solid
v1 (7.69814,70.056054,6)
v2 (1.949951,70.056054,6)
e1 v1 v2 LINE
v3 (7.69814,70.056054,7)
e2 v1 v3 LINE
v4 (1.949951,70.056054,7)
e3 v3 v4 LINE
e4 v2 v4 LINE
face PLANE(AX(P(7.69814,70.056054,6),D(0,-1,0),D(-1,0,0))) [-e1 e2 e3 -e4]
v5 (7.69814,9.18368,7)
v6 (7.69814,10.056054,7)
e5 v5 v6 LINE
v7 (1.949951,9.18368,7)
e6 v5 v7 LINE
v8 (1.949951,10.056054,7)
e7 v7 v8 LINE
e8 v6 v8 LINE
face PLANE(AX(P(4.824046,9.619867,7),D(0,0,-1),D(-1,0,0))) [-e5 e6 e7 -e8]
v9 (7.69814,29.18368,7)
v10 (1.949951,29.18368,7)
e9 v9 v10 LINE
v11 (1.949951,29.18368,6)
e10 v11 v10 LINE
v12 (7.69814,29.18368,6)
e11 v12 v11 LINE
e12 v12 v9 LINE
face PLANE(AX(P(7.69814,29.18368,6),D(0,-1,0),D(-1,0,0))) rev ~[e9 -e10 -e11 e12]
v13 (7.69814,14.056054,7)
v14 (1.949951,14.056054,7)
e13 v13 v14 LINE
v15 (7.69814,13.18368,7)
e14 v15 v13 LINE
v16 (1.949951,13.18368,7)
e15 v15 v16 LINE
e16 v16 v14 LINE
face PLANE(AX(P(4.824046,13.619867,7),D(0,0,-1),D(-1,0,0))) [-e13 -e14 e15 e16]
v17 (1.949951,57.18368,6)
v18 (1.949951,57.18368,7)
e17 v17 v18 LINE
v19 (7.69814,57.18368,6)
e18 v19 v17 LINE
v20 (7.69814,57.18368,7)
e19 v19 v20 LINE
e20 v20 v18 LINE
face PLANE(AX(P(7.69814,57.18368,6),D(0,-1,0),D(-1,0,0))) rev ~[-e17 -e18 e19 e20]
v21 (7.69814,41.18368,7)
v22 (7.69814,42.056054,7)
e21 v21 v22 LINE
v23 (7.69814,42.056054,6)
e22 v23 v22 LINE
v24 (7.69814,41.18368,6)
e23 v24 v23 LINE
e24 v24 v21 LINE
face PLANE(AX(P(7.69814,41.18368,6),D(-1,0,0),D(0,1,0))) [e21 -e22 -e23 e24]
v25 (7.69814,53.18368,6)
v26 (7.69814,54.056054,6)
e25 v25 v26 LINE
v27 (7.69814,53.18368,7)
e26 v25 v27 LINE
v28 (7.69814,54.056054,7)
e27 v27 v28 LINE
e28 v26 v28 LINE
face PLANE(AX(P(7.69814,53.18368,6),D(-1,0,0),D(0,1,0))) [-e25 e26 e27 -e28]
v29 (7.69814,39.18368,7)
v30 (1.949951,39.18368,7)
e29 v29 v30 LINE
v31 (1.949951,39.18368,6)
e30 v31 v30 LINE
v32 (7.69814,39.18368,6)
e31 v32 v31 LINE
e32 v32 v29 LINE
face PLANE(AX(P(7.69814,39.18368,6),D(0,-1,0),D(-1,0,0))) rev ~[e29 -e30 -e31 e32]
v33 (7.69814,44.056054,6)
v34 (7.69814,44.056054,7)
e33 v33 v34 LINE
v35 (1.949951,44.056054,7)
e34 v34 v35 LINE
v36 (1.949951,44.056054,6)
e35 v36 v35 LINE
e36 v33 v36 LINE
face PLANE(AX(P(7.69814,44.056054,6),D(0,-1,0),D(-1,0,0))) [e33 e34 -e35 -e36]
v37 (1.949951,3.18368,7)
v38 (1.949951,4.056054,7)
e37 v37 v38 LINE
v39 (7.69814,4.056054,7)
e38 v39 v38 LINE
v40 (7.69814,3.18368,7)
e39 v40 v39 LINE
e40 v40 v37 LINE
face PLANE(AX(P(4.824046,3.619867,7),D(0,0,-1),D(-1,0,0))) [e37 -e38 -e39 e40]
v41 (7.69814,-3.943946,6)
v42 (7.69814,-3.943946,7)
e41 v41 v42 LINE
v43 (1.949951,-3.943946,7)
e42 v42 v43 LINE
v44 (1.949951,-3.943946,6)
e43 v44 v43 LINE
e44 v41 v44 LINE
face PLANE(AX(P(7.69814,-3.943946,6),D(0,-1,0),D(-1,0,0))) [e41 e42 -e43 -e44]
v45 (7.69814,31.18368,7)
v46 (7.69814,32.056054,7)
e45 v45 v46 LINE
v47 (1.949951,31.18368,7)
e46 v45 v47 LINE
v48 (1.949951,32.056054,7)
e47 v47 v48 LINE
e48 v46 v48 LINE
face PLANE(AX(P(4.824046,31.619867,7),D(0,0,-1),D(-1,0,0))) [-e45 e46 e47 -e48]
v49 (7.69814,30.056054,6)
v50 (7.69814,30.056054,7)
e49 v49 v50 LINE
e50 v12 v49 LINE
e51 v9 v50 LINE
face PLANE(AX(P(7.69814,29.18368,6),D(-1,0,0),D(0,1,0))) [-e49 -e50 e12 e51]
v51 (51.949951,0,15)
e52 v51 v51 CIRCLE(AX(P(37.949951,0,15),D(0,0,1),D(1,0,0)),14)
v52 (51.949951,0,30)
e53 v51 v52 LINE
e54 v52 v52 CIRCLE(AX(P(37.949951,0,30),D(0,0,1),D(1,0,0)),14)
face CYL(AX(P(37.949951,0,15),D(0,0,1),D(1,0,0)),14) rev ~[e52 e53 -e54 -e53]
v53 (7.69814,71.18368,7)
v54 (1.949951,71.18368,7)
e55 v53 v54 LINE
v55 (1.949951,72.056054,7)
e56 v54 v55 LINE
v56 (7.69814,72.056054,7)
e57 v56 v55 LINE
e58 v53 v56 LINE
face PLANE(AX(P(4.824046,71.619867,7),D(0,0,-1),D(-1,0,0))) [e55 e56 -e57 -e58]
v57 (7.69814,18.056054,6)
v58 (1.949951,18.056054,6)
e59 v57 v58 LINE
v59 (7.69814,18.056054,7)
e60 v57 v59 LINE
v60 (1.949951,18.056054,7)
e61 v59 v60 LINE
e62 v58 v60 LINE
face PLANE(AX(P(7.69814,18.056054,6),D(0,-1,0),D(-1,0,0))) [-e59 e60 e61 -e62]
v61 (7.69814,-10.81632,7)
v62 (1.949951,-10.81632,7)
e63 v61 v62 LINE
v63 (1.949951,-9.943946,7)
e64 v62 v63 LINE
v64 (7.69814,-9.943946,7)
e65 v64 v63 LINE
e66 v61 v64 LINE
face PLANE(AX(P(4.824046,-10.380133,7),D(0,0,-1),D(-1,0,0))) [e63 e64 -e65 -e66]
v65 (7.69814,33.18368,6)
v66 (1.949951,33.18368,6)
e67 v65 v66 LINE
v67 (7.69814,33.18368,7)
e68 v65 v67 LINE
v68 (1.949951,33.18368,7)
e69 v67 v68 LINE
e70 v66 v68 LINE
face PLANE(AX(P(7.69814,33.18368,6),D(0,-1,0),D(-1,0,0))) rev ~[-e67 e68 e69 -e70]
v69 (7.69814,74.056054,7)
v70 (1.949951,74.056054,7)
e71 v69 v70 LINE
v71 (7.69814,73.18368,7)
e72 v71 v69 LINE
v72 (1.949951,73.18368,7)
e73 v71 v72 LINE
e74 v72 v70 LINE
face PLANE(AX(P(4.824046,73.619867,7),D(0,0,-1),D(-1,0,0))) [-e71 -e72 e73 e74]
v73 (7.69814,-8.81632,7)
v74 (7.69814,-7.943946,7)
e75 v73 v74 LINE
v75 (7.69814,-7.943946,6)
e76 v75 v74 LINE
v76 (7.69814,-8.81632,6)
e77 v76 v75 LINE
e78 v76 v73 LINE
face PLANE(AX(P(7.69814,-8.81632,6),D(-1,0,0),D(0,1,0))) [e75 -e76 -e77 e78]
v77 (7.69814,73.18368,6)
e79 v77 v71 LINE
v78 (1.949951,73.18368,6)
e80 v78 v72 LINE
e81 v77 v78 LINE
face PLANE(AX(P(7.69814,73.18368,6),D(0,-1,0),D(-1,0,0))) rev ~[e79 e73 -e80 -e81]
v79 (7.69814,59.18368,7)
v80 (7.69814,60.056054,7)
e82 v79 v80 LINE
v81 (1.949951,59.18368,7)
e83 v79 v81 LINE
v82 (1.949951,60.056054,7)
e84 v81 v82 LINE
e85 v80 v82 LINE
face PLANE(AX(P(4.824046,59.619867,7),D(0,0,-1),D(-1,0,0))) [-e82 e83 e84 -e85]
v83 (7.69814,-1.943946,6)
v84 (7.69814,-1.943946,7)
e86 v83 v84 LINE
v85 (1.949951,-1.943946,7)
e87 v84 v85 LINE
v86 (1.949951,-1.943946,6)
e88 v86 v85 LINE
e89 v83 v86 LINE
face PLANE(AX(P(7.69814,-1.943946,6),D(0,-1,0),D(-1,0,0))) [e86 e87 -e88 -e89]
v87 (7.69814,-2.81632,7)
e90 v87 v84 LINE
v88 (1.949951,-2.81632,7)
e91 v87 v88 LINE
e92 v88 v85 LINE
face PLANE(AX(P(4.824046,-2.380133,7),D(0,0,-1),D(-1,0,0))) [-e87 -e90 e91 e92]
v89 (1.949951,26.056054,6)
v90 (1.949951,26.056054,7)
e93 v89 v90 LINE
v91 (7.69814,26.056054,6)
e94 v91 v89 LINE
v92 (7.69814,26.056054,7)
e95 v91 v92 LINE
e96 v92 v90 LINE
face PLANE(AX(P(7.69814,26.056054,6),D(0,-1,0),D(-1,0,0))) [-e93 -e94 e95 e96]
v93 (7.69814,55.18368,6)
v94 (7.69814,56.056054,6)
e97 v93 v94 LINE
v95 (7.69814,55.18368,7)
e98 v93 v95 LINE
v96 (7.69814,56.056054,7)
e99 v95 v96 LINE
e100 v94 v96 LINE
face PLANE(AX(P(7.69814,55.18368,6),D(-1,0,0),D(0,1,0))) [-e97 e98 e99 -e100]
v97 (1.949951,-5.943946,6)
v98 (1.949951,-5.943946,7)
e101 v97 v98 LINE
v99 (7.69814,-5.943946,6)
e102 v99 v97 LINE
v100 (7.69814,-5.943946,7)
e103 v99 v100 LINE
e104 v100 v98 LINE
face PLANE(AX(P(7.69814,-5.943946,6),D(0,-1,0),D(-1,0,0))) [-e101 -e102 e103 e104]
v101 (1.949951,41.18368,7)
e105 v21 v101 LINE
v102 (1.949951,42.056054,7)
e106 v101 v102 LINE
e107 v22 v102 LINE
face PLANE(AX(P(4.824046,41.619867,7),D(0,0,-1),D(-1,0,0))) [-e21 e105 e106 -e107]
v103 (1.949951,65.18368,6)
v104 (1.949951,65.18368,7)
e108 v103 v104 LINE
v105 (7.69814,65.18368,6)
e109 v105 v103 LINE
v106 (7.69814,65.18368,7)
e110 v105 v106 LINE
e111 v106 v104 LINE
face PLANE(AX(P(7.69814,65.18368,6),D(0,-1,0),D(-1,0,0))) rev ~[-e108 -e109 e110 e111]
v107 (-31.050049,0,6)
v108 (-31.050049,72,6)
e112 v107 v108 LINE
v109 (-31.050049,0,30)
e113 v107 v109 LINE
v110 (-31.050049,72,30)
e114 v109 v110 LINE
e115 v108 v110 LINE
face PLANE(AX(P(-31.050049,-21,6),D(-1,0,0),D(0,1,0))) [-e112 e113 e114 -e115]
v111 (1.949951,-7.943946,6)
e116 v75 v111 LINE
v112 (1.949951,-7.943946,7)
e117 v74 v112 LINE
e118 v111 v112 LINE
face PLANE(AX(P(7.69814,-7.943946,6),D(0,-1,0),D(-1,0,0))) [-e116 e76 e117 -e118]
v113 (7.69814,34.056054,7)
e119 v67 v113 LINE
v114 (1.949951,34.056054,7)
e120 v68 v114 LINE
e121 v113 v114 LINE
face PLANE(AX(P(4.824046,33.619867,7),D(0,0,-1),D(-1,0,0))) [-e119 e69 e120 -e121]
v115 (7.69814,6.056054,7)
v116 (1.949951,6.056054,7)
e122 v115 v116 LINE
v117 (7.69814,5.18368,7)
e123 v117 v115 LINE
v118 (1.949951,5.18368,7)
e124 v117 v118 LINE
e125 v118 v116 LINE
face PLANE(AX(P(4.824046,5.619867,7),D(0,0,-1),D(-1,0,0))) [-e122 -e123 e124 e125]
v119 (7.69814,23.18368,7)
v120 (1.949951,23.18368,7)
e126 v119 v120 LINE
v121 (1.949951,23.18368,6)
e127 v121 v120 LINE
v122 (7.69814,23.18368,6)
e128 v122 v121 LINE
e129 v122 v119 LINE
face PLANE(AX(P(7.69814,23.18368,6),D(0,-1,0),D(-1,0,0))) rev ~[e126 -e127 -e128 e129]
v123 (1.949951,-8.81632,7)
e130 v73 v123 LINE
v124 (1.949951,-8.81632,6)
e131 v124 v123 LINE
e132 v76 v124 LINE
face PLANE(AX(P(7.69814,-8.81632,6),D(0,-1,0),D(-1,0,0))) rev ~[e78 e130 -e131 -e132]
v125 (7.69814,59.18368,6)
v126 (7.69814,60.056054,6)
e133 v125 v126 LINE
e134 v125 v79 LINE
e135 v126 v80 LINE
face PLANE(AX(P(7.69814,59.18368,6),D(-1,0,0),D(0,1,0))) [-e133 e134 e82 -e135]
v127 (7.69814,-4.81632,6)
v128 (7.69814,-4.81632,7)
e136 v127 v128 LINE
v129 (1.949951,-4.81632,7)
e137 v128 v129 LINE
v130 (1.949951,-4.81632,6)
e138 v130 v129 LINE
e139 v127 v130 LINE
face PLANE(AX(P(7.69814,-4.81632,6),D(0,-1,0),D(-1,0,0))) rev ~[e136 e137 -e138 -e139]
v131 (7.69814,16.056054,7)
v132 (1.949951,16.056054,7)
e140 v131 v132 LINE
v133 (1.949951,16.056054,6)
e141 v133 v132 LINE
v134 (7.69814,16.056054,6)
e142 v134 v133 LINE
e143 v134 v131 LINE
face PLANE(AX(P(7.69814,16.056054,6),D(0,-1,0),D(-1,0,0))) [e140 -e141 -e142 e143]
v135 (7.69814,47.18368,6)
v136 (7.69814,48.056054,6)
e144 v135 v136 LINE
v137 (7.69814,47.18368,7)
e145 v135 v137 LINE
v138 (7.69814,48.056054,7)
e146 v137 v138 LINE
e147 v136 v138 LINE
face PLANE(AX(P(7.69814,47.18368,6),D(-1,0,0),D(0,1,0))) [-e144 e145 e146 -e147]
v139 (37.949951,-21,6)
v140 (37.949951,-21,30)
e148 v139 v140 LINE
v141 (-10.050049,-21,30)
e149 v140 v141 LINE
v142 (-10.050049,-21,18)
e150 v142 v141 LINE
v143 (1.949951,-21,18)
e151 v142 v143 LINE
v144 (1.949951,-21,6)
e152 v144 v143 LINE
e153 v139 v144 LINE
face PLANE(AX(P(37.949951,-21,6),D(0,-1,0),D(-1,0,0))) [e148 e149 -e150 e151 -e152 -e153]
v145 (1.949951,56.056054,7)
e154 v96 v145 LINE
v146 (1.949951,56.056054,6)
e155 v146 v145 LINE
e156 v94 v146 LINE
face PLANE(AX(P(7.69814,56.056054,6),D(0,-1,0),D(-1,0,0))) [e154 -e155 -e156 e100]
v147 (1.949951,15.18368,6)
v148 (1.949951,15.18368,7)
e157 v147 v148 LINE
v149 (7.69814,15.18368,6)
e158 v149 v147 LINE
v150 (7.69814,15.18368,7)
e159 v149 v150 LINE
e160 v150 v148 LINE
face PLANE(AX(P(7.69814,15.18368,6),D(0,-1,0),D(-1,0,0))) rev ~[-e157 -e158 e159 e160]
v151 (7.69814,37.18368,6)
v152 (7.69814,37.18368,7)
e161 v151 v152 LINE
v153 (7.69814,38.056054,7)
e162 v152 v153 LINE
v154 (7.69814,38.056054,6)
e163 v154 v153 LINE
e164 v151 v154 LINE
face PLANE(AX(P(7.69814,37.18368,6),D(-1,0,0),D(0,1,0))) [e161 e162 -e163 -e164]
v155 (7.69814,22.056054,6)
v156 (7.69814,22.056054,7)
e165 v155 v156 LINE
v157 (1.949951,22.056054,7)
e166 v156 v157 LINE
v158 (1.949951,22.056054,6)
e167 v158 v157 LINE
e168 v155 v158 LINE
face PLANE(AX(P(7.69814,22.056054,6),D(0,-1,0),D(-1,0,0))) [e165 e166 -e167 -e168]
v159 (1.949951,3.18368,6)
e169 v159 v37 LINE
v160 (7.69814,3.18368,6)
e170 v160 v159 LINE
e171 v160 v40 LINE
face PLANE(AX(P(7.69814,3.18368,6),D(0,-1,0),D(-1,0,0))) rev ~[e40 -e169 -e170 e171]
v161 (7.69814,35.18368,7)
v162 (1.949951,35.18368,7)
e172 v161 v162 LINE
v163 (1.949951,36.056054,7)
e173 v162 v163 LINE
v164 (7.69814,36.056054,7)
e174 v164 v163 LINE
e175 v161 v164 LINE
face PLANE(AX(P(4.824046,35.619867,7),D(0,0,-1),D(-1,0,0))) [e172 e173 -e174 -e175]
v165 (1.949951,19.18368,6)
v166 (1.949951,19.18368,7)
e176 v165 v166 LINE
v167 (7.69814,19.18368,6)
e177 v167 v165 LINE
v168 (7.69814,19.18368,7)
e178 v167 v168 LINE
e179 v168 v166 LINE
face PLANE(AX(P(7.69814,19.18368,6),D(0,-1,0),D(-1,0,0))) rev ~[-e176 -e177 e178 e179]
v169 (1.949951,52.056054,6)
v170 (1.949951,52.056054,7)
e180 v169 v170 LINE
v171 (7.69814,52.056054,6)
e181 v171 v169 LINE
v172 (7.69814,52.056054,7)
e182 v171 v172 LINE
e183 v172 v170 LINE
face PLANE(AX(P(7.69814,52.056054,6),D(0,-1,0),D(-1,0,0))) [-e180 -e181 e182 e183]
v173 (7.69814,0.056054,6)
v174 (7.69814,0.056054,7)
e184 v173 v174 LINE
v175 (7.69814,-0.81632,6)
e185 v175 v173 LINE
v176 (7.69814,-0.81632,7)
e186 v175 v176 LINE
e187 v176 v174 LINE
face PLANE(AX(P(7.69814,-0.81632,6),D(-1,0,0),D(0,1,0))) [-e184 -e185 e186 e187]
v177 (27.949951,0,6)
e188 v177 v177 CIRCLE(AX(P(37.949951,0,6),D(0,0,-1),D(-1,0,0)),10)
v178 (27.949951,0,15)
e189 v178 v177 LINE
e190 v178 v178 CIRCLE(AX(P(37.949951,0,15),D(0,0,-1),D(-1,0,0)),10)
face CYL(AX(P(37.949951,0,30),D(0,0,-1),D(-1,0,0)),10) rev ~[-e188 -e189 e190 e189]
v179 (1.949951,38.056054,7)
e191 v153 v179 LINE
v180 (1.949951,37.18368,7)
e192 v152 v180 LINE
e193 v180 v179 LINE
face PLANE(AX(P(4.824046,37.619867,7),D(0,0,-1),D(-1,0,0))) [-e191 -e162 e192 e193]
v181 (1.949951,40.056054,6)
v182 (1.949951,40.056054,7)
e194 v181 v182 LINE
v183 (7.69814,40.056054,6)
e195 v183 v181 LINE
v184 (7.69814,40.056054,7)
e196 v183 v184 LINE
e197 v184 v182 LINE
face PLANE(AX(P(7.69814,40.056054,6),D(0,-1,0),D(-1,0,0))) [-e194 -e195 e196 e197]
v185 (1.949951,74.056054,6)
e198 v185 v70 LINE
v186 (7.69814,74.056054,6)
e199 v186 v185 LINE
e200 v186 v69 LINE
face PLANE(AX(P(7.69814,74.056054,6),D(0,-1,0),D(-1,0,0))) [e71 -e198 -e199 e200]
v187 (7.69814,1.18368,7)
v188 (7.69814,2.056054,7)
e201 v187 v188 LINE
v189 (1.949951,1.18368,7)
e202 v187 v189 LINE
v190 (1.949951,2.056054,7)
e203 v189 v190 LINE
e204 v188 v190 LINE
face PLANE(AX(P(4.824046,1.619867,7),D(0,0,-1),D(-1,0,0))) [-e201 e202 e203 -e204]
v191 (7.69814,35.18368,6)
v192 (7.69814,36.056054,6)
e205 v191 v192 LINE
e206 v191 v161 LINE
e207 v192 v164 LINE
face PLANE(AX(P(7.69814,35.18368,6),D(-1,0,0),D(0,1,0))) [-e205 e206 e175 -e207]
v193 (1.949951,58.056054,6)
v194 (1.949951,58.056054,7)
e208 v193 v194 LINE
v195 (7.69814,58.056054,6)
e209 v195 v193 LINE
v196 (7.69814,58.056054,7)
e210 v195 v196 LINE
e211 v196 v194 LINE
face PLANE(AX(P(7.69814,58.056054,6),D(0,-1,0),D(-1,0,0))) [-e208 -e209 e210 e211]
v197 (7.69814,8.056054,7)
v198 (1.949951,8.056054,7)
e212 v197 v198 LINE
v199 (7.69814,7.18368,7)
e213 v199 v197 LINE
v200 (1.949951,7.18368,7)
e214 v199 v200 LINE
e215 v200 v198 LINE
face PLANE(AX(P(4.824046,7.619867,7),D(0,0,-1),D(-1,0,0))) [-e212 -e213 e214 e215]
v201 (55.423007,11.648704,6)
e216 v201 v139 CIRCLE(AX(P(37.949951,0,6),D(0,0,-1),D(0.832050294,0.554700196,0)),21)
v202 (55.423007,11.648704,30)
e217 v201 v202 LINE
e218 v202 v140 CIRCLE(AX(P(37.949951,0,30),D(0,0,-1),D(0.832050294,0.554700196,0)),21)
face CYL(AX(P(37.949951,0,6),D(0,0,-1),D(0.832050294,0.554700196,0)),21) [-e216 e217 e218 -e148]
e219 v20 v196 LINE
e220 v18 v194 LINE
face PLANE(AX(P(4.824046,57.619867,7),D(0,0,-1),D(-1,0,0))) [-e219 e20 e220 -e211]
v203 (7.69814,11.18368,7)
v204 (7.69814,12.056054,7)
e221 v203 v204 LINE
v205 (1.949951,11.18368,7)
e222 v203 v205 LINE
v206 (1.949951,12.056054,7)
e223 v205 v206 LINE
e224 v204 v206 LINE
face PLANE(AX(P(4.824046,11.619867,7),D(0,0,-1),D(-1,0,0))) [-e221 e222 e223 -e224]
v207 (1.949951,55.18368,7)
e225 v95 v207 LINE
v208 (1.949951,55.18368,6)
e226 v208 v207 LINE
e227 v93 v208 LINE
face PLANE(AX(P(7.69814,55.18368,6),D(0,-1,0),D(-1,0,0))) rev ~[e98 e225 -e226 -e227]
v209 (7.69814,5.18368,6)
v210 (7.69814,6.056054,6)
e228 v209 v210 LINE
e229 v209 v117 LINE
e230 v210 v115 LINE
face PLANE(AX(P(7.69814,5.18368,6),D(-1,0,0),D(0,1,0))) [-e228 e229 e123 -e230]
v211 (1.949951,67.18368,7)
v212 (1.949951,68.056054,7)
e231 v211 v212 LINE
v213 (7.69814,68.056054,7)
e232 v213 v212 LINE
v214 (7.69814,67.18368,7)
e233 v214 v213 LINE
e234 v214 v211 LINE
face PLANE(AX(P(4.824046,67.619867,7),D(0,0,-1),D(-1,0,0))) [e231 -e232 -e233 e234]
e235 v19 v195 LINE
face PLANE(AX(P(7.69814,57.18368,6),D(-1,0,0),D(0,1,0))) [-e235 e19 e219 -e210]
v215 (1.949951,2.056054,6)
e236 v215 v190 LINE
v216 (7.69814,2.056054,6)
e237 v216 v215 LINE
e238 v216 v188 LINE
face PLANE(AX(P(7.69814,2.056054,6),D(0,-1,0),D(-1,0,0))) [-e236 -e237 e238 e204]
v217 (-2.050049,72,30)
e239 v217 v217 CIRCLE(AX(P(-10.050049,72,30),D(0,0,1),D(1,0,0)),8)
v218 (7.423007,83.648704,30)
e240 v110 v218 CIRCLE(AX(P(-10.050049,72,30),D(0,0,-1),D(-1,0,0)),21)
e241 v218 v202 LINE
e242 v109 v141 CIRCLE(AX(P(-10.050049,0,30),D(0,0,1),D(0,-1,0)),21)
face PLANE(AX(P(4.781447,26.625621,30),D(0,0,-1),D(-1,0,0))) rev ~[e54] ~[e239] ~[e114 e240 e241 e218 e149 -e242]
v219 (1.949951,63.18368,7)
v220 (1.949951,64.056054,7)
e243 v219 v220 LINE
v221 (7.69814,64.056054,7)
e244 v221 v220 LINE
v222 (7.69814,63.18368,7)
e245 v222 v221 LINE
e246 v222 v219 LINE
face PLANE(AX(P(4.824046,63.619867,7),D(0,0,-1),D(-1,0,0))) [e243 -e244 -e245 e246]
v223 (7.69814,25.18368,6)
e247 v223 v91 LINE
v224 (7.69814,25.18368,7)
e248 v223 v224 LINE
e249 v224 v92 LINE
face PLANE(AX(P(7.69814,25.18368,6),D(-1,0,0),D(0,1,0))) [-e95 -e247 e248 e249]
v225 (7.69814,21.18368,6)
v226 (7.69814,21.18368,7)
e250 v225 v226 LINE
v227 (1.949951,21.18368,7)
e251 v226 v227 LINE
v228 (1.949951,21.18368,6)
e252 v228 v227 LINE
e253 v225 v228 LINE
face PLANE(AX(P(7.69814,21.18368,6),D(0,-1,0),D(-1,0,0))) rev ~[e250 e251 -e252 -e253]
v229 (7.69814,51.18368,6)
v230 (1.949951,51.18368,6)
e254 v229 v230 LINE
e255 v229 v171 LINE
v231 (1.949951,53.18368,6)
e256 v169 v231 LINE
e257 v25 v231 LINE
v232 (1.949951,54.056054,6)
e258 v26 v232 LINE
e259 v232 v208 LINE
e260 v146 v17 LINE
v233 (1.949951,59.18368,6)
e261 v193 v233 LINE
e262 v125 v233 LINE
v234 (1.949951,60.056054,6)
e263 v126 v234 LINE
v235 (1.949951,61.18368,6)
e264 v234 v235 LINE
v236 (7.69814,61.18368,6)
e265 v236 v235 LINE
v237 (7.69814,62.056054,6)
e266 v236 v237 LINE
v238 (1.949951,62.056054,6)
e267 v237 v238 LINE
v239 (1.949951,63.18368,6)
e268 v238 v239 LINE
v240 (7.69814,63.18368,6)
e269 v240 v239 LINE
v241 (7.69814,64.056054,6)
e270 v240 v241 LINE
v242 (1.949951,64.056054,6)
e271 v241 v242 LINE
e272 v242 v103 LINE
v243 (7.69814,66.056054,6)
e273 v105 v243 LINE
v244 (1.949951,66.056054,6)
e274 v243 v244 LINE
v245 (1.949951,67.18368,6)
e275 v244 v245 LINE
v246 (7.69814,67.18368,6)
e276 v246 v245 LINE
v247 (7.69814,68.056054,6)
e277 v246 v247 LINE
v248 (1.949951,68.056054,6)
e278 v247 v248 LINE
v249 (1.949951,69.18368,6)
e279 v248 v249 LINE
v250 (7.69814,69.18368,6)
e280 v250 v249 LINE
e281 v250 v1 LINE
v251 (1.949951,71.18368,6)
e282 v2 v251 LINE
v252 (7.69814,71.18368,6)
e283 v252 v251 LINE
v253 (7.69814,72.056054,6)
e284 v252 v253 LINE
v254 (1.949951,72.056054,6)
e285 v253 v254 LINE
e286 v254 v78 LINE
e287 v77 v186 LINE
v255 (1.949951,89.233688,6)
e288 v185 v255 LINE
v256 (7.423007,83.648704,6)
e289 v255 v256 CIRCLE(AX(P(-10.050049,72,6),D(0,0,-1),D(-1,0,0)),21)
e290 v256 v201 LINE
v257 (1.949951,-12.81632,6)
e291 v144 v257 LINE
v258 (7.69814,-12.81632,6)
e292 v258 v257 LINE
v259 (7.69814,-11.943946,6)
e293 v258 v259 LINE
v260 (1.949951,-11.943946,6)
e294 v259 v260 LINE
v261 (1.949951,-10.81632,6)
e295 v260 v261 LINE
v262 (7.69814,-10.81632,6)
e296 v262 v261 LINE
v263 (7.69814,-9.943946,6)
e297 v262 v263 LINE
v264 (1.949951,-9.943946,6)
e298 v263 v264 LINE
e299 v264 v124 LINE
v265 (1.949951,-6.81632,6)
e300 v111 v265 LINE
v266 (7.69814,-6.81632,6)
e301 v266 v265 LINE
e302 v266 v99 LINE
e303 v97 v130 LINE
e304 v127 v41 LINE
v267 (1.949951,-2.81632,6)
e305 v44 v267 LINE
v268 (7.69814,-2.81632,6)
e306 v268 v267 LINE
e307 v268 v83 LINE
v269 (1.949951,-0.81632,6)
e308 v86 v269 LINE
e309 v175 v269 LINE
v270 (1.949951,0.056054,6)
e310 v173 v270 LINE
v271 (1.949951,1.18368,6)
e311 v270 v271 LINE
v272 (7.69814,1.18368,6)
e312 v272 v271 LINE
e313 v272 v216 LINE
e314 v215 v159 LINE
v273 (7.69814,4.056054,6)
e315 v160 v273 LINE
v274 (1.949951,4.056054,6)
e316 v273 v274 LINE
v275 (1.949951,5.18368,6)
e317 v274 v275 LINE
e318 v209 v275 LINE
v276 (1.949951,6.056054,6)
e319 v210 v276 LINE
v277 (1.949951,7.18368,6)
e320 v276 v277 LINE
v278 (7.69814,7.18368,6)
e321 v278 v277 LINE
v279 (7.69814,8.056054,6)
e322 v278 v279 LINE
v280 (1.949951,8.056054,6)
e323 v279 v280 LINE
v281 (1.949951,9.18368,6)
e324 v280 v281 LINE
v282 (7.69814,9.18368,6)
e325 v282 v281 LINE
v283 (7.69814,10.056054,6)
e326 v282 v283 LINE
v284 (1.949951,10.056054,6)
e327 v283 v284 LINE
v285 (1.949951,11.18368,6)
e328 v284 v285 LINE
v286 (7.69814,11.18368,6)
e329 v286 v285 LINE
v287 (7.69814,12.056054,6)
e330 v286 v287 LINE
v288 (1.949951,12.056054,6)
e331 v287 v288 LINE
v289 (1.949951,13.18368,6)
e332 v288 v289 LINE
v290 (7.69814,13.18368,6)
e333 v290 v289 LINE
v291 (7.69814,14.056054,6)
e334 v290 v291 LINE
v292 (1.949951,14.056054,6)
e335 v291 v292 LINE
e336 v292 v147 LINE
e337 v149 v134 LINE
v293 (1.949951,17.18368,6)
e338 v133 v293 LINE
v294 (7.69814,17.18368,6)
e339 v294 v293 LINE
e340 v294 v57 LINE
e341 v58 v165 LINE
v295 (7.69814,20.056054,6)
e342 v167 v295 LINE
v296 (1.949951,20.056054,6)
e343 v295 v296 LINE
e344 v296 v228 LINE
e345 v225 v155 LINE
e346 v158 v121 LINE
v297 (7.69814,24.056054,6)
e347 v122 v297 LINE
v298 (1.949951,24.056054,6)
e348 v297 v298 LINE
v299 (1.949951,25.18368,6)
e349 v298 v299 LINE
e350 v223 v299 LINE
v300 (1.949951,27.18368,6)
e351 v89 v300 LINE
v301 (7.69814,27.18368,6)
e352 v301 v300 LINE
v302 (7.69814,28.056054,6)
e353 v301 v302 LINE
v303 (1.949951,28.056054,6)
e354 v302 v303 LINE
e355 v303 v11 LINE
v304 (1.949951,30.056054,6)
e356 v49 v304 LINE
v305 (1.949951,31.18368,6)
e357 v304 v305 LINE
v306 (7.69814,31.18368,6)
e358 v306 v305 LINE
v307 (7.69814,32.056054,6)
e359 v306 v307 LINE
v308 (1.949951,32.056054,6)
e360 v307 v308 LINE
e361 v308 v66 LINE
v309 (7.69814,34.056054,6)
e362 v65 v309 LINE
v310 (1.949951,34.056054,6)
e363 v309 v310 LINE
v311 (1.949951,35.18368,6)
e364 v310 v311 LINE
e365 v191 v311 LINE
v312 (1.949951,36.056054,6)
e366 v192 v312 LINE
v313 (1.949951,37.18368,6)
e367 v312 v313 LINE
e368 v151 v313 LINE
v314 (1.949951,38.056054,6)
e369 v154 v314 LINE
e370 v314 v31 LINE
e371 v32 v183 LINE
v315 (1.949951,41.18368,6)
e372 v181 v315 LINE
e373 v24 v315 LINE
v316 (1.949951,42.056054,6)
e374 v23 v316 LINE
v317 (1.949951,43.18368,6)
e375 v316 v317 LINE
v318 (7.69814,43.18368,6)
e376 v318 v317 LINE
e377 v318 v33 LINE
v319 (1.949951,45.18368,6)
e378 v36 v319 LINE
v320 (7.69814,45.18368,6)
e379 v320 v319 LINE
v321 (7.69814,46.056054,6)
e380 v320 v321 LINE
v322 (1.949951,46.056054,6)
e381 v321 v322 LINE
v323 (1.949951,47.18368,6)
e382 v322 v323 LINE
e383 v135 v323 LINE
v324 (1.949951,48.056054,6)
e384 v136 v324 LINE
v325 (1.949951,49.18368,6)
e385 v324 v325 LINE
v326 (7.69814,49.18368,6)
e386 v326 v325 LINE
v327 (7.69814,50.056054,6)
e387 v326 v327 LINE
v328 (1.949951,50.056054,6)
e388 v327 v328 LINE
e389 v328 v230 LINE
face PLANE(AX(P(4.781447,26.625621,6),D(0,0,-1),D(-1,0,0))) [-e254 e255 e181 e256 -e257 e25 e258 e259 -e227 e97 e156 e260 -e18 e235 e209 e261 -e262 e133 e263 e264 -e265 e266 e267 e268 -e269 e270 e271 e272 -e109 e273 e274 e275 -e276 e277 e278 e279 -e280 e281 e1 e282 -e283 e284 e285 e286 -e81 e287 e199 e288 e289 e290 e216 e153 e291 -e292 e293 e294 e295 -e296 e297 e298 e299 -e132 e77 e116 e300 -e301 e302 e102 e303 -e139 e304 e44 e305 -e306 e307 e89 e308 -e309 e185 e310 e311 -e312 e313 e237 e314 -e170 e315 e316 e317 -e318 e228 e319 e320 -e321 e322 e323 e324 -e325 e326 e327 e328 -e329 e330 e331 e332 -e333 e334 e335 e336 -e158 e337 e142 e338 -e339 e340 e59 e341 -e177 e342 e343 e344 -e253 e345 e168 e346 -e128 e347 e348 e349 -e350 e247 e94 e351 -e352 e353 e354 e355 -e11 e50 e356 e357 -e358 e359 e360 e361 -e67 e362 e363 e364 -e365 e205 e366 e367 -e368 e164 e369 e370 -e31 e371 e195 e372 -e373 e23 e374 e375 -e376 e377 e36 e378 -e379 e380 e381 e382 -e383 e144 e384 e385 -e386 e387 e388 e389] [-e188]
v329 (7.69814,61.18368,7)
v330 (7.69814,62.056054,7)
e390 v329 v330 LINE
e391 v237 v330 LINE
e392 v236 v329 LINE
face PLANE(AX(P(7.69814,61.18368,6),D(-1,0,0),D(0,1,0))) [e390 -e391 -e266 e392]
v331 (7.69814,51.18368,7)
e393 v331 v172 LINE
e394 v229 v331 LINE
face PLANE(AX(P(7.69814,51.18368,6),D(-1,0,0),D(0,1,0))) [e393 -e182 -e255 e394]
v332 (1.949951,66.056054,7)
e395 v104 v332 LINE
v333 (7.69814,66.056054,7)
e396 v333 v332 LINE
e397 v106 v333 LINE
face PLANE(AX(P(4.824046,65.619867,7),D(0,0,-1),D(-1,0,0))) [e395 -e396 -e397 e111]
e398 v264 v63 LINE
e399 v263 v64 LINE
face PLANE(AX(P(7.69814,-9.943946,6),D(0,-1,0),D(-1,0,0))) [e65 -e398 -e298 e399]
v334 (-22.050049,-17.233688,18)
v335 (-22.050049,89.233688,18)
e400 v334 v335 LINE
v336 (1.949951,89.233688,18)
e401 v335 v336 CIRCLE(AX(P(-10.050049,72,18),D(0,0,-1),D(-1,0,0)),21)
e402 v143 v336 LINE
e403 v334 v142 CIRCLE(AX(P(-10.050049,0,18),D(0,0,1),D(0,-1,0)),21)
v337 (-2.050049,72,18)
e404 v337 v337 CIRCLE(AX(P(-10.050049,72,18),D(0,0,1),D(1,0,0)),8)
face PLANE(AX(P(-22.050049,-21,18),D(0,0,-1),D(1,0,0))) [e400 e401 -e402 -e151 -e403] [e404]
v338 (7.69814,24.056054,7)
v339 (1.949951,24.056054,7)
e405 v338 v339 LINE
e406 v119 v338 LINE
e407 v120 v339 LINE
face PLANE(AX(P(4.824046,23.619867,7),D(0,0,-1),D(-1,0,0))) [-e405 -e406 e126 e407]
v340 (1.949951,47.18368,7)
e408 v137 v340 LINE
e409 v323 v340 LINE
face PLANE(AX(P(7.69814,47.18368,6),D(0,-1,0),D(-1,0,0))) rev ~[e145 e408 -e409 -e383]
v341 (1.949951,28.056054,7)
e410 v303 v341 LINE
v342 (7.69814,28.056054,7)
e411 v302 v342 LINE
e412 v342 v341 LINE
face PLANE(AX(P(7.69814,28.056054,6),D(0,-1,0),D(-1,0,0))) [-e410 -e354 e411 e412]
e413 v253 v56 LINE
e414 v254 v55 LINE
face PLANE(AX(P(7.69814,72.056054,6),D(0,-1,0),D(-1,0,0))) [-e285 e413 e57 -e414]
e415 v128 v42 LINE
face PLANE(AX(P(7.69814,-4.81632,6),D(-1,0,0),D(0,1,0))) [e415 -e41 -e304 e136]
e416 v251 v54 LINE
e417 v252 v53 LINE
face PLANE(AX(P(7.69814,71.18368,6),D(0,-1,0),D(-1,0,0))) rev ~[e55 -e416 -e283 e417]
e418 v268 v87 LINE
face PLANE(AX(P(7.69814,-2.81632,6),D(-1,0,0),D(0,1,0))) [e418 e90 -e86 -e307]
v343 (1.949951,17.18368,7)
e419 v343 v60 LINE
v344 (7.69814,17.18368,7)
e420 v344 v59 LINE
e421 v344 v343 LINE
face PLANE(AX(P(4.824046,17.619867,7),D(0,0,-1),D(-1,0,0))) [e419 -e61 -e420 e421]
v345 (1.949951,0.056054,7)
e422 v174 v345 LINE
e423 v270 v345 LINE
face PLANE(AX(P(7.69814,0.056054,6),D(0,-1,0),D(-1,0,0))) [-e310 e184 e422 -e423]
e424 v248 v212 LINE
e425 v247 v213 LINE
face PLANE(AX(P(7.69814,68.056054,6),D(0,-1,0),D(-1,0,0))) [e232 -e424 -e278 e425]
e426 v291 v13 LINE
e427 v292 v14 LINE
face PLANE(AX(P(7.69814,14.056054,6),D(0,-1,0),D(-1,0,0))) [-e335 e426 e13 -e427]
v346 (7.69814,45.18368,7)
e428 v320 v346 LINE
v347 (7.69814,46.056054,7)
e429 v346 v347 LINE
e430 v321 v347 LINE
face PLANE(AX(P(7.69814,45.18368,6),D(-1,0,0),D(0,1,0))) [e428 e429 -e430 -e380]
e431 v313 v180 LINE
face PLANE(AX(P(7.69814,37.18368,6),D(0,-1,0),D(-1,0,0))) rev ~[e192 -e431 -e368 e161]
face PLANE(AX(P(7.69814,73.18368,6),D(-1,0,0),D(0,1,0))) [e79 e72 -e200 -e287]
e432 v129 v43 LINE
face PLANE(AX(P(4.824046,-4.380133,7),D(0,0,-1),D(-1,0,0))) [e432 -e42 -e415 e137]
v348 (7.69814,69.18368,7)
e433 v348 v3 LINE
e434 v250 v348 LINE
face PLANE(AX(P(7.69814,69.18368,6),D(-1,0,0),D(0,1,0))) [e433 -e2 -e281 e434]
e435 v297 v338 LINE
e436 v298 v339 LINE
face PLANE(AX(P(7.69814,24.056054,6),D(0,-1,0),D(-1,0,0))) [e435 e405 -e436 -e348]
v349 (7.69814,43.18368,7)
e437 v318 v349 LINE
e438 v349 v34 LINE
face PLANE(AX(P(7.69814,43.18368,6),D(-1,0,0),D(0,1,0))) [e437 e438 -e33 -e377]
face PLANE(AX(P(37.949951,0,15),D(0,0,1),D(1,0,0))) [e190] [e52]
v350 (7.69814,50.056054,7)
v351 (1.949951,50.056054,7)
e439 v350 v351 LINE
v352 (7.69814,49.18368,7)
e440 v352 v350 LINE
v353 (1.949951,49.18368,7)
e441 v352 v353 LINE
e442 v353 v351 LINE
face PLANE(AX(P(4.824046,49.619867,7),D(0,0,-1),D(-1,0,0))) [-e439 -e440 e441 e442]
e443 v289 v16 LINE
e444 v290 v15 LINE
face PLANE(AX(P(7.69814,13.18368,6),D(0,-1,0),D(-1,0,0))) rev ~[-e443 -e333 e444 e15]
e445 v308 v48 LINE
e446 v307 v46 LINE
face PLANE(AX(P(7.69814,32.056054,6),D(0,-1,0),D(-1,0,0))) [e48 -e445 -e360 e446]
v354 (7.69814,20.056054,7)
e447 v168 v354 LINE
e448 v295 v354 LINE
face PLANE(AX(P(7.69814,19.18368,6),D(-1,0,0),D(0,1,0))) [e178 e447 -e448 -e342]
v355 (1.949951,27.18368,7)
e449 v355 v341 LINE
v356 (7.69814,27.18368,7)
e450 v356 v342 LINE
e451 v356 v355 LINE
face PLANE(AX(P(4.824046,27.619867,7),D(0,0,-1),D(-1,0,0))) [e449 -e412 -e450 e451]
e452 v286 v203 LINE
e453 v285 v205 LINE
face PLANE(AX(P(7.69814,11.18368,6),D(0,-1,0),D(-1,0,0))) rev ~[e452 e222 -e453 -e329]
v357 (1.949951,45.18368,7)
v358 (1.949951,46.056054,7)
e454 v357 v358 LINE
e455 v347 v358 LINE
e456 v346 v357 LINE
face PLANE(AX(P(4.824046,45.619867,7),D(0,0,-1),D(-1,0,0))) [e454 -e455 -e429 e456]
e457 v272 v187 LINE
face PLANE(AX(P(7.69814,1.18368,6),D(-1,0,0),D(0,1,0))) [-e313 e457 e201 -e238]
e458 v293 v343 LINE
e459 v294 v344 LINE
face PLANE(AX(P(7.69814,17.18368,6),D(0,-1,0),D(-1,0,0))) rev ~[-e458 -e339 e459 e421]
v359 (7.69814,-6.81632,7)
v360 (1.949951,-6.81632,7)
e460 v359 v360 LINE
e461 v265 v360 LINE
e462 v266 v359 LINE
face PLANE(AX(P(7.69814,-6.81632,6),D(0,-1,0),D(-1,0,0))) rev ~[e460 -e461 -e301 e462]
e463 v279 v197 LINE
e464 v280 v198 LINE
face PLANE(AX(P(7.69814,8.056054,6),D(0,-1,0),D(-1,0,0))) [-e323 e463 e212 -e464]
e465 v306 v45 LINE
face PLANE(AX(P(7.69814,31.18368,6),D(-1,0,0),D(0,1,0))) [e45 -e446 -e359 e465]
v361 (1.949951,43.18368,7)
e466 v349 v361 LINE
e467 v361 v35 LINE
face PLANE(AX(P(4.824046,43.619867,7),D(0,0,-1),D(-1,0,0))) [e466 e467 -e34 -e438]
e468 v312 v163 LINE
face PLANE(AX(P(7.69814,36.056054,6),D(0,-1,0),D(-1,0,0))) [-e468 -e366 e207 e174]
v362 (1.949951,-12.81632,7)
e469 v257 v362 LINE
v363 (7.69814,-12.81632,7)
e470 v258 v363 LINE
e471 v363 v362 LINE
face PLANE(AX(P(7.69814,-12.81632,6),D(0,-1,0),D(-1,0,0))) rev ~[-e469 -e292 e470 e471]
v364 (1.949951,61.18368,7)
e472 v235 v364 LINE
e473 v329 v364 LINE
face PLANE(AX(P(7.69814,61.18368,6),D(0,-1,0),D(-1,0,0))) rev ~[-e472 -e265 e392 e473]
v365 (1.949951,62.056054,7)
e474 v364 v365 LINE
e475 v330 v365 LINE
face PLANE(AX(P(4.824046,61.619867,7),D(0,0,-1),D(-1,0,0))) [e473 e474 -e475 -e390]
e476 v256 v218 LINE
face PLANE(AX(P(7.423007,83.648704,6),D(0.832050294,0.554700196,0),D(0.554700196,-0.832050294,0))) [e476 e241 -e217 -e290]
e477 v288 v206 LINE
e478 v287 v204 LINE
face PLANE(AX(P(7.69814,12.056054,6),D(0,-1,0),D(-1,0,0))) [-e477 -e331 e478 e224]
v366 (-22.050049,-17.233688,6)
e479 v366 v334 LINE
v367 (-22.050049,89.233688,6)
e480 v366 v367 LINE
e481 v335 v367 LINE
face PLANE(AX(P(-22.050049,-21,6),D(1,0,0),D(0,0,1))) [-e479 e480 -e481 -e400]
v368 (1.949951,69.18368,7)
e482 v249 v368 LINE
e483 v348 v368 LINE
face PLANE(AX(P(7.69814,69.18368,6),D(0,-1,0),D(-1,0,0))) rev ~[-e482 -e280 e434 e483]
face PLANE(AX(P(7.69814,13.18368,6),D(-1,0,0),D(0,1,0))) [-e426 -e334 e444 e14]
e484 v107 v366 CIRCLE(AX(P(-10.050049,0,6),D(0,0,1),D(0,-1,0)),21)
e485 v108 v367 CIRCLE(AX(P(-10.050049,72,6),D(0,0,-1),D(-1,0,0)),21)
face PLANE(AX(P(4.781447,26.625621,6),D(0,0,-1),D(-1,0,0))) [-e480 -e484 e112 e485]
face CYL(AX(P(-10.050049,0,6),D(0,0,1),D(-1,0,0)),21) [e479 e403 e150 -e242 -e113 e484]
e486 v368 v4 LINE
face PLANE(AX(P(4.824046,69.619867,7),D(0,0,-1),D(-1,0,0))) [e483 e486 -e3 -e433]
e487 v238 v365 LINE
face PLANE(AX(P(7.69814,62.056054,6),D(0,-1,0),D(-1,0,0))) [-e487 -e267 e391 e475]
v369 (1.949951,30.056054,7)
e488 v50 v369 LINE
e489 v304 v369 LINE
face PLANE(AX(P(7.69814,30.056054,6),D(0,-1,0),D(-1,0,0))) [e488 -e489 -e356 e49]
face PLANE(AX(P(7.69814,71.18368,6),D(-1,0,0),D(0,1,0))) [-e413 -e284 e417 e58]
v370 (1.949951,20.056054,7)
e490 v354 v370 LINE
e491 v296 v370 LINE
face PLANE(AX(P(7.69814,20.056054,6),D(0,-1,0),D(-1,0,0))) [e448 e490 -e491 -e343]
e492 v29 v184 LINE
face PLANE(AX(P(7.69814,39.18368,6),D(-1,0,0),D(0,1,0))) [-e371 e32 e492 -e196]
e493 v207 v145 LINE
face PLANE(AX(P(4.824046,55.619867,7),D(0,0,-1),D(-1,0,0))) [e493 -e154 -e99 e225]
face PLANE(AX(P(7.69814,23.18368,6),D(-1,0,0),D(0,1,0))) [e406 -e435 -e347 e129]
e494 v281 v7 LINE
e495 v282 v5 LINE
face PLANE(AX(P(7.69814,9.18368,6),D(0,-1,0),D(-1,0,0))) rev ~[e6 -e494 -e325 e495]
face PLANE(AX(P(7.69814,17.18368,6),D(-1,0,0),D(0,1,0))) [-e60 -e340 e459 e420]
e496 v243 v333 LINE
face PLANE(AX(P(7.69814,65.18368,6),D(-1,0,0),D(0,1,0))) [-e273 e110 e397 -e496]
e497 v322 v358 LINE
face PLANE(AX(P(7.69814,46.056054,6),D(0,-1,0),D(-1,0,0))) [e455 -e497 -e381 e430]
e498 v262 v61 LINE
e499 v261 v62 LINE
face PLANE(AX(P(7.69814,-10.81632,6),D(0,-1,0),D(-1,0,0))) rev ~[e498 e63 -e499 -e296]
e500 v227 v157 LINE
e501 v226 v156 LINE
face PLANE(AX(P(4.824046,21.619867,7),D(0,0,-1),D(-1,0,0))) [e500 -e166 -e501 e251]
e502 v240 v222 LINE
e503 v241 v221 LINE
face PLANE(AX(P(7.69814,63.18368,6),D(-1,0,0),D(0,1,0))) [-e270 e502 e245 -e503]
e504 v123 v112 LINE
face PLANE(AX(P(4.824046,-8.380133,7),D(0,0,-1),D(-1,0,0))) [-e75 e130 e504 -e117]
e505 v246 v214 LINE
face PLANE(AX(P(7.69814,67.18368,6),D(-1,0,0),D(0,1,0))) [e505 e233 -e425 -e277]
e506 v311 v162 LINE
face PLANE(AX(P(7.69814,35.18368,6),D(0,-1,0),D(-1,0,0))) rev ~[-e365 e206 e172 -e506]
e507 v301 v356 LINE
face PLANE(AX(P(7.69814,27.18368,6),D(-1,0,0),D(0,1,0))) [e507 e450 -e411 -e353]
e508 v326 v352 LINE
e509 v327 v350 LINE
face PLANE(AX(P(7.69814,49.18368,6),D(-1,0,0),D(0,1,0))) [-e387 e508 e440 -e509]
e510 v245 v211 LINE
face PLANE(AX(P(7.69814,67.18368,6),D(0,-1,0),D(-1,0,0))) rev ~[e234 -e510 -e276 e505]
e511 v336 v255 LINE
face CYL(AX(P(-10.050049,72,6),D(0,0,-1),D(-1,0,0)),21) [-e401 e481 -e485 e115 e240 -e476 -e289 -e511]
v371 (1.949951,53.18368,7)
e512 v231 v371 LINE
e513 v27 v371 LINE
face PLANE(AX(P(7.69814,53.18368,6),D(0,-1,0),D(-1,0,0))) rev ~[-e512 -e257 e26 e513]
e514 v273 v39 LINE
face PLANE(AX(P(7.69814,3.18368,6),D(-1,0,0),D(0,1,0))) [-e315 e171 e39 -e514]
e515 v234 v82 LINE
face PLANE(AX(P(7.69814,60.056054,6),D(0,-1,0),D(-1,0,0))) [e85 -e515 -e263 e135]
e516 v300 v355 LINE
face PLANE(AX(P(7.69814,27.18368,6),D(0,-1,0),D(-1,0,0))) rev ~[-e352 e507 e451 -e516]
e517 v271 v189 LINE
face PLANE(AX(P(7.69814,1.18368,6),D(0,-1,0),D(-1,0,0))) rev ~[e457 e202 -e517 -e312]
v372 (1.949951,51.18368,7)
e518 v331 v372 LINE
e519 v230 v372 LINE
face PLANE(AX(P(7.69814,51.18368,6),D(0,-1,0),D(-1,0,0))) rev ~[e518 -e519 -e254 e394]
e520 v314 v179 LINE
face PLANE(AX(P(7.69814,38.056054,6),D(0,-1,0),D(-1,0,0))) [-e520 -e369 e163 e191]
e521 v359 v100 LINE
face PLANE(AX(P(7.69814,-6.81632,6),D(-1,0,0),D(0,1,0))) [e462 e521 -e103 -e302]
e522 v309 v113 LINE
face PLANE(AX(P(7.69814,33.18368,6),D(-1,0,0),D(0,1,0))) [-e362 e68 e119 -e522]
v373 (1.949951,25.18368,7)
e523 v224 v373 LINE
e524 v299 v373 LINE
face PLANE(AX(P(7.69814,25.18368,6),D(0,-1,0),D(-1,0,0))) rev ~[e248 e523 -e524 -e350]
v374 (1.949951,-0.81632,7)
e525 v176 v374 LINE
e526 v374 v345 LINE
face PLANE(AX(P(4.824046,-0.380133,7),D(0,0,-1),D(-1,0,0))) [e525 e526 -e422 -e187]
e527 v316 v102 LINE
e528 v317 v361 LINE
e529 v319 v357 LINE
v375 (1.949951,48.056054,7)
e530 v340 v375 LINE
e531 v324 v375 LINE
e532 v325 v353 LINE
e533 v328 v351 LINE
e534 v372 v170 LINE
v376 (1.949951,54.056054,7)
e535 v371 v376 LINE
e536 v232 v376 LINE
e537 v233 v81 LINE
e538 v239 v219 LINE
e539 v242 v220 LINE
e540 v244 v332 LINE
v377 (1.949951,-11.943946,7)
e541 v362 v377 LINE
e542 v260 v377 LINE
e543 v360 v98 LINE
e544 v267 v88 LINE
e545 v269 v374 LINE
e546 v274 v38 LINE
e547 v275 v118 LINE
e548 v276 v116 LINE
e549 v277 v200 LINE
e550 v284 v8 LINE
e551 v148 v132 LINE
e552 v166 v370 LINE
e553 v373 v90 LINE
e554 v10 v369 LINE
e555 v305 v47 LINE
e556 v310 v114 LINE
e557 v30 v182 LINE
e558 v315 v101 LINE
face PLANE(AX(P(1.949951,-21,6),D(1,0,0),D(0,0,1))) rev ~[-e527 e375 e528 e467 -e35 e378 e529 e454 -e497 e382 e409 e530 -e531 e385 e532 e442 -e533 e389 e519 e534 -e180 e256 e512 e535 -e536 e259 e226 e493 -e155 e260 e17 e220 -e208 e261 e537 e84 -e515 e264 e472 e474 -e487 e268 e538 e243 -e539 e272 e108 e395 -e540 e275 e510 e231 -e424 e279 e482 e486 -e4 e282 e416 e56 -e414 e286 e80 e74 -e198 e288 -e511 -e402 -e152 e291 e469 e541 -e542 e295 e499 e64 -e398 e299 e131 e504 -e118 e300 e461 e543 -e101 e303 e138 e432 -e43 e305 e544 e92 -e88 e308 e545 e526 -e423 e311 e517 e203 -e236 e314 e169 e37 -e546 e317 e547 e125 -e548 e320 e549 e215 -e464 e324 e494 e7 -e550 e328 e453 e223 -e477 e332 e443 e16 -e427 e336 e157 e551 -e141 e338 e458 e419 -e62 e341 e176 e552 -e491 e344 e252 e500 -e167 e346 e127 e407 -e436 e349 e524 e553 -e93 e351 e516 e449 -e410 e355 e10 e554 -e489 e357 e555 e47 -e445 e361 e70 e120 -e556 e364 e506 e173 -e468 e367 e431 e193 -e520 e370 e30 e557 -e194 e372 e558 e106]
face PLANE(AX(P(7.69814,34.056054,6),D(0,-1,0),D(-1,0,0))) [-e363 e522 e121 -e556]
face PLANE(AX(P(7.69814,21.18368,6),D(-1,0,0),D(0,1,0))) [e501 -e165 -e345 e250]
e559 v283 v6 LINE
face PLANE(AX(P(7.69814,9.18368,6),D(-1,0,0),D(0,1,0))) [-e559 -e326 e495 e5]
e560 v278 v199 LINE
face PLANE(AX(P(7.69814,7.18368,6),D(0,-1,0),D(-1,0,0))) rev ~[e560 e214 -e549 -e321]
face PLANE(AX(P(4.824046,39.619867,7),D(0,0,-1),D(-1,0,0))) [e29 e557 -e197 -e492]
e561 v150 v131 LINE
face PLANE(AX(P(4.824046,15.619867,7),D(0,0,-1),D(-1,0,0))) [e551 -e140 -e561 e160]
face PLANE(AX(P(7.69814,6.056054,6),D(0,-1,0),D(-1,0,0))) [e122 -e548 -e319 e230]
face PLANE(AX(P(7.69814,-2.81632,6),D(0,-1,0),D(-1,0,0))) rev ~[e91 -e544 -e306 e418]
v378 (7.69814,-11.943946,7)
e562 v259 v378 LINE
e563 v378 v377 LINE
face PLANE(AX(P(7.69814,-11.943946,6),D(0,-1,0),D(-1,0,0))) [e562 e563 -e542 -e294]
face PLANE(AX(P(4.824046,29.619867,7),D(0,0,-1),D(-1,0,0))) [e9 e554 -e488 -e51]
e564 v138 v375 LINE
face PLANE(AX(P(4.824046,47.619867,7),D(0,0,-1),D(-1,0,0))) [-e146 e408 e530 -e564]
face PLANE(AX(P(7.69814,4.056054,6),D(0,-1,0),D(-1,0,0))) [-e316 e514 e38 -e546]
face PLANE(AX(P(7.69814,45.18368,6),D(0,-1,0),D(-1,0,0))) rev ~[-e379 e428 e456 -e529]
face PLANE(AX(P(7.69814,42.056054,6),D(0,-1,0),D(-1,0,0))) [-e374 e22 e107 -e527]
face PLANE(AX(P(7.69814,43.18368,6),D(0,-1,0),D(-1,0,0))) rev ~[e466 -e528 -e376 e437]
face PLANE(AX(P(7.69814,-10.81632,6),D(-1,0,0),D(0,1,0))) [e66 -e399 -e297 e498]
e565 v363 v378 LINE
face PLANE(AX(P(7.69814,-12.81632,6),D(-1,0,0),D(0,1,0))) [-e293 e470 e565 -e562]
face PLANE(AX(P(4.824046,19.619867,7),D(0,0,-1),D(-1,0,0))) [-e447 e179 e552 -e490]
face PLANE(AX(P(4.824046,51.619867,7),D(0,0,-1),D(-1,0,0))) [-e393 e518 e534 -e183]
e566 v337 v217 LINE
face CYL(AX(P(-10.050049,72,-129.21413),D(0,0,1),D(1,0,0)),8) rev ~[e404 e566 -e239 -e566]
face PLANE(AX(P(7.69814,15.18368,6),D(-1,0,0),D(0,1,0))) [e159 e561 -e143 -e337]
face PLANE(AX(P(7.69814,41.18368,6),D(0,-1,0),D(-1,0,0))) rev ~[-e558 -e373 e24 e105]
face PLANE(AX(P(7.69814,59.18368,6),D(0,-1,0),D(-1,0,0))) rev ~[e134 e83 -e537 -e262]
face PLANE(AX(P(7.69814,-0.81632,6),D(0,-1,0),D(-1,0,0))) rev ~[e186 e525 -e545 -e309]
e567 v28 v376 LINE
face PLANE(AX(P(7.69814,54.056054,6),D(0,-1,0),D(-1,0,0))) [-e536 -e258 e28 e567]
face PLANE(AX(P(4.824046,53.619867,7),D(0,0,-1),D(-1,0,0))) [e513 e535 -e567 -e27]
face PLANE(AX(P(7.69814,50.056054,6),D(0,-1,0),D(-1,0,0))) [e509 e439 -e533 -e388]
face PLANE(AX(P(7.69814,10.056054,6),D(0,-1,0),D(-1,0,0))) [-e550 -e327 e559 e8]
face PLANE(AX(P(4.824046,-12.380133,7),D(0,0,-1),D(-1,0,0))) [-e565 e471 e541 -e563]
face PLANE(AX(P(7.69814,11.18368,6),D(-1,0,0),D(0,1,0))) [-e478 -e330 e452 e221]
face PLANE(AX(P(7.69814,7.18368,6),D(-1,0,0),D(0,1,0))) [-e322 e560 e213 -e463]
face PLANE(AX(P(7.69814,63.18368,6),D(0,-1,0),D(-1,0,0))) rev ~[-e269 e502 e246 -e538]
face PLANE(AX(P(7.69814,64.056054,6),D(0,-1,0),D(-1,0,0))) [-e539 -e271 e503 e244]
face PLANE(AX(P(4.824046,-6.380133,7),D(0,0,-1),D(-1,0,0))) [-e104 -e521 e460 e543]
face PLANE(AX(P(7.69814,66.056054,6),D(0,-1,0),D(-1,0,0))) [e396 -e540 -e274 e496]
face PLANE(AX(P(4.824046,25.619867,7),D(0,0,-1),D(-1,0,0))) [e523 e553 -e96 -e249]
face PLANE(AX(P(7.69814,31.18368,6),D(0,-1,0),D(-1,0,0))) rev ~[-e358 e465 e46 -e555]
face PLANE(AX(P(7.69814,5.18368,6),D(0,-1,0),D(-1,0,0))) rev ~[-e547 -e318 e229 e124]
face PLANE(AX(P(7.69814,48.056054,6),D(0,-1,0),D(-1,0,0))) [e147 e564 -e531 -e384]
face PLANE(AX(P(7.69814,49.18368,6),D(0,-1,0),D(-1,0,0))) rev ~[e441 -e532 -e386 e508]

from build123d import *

# Parameters (mm, degrees)
EXTRUSION1_DEPTH                 = 24
ENL_V_MAT_EXTRU_1_REACH          = 133.799
ESQUISSE2_W                      = 24
ESQUISSE2_H                      = 12
DIAM_TRE_DU_PER_AGE_M16_0_16_1_D = 16
PER_AGE1_D                       = 20
PER_AGE1_CBORE_D                 = 28
PER_AGE1_CBORE_DEPTH             = 15
CONG_1_R                         = 21
ESQUISSE7_W                      = 5.748189094
ESQUISSE7_H                      = 0.872373353
ENL_V_MAT_EXTRU_2_DEPTH          = 1
R_P_TITION_LIN_AIRE1_COUNT       = 44
R_P_TITION_LIN_AIRE1_PITCH       = 2


with BuildPart() as part:
    # Esquisse1 → Extrusion1 (new body)
    with BuildSketch(Plane(origin=(0, 0, 6), x_dir=(-1, 0, 0), z_dir=(0, 0, -1))):
        with BuildLine():
            Line((31.050048828, -21), (31.050048828, 72))
            ThreePointArc((31.050048828, 72), (16.135515951, 92.098932556), (-7.423007353, 83.648704121))
            Line((-7.423007353, 83.648704121), (-55.423007353, 11.648704121))
            ThreePointArc((-55.423007353, 11.648704121), (-56.465117746, -9.909016436), (-37.949951172, -21))
            Line((-37.949951172, -21), (31.050048828, -21))
        make_face()
    extrude(amount=-EXTRUSION1_DEPTH)

    # Esquisse2 → Enlèv. mat.-Extru.1 (cut, up to next)
    with BuildSketch(Plane.XZ.offset(21), mode=Mode.PRIVATE) as enl_v_mat_extru_1_sk1:
        with Locations((-10.050048828, 12)):
            Rectangle(ESQUISSE2_W, ESQUISSE2_H)
    enl_v_mat_extru_1_tool1 = extrude(enl_v_mat_extru_1_sk1.sketch, amount=-ENL_V_MAT_EXTRU_1_REACH, mode=Mode.PRIVATE) & part.part
    add(enl_v_mat_extru_1_tool1.solids().sort_by_distance((-10.050049, -21, 12))[0], mode=Mode.SUBTRACT)

    # Diamètre du perçage M16.0 (16)1 (through all)
    with Locations(Plane(origin=(0, 0, 18), x_dir=(-1, 0, 0), z_dir=(0, 0, -1))):
        with Locations((10.050048828, 72)):
            Hole(DIAM_TRE_DU_PER_AGE_M16_0_16_1_D / 2)

    # Perçage1 (through all)
    with Locations(Plane.XY.offset(30)):
        with Locations((37.949951172, 0)):
            CounterBoreHole(PER_AGE1_D / 2, PER_AGE1_CBORE_D / 2, PER_AGE1_CBORE_DEPTH)

    # Congé1
    cong_1_edges = [part.edges().sort_by_distance(p)[0] for p in [
        (-31.050048828, -21, 18),
    ]]
    fillet(cong_1_edges, radius=CONG_1_R)

    # Esquisse7 → Enlèv. mat.-Extru.2 (cut)
    with BuildSketch(Plane(origin=(0, 0, 6), x_dir=(-1, 0, 0), z_dir=(0, 0, -1))):
        with Locations((-4.824045719, 73.61986696)):
            Rectangle(ESQUISSE7_W, ESQUISSE7_H)
    enl_v_mat_extru_2 = extrude(amount=-ENL_V_MAT_EXTRU_2_DEPTH, mode=Mode.SUBTRACT)

    # Répétition linéaire1: Enlèv. mat.-Extru.2 ×44
    with Locations(*[(0, -i * R_P_TITION_LIN_AIRE1_PITCH, 0) for i in range(1, R_P_TITION_LIN_AIRE1_COUNT)]):
        add(enl_v_mat_extru_2, mode=Mode.SUBTRACT)


solid = part.part
